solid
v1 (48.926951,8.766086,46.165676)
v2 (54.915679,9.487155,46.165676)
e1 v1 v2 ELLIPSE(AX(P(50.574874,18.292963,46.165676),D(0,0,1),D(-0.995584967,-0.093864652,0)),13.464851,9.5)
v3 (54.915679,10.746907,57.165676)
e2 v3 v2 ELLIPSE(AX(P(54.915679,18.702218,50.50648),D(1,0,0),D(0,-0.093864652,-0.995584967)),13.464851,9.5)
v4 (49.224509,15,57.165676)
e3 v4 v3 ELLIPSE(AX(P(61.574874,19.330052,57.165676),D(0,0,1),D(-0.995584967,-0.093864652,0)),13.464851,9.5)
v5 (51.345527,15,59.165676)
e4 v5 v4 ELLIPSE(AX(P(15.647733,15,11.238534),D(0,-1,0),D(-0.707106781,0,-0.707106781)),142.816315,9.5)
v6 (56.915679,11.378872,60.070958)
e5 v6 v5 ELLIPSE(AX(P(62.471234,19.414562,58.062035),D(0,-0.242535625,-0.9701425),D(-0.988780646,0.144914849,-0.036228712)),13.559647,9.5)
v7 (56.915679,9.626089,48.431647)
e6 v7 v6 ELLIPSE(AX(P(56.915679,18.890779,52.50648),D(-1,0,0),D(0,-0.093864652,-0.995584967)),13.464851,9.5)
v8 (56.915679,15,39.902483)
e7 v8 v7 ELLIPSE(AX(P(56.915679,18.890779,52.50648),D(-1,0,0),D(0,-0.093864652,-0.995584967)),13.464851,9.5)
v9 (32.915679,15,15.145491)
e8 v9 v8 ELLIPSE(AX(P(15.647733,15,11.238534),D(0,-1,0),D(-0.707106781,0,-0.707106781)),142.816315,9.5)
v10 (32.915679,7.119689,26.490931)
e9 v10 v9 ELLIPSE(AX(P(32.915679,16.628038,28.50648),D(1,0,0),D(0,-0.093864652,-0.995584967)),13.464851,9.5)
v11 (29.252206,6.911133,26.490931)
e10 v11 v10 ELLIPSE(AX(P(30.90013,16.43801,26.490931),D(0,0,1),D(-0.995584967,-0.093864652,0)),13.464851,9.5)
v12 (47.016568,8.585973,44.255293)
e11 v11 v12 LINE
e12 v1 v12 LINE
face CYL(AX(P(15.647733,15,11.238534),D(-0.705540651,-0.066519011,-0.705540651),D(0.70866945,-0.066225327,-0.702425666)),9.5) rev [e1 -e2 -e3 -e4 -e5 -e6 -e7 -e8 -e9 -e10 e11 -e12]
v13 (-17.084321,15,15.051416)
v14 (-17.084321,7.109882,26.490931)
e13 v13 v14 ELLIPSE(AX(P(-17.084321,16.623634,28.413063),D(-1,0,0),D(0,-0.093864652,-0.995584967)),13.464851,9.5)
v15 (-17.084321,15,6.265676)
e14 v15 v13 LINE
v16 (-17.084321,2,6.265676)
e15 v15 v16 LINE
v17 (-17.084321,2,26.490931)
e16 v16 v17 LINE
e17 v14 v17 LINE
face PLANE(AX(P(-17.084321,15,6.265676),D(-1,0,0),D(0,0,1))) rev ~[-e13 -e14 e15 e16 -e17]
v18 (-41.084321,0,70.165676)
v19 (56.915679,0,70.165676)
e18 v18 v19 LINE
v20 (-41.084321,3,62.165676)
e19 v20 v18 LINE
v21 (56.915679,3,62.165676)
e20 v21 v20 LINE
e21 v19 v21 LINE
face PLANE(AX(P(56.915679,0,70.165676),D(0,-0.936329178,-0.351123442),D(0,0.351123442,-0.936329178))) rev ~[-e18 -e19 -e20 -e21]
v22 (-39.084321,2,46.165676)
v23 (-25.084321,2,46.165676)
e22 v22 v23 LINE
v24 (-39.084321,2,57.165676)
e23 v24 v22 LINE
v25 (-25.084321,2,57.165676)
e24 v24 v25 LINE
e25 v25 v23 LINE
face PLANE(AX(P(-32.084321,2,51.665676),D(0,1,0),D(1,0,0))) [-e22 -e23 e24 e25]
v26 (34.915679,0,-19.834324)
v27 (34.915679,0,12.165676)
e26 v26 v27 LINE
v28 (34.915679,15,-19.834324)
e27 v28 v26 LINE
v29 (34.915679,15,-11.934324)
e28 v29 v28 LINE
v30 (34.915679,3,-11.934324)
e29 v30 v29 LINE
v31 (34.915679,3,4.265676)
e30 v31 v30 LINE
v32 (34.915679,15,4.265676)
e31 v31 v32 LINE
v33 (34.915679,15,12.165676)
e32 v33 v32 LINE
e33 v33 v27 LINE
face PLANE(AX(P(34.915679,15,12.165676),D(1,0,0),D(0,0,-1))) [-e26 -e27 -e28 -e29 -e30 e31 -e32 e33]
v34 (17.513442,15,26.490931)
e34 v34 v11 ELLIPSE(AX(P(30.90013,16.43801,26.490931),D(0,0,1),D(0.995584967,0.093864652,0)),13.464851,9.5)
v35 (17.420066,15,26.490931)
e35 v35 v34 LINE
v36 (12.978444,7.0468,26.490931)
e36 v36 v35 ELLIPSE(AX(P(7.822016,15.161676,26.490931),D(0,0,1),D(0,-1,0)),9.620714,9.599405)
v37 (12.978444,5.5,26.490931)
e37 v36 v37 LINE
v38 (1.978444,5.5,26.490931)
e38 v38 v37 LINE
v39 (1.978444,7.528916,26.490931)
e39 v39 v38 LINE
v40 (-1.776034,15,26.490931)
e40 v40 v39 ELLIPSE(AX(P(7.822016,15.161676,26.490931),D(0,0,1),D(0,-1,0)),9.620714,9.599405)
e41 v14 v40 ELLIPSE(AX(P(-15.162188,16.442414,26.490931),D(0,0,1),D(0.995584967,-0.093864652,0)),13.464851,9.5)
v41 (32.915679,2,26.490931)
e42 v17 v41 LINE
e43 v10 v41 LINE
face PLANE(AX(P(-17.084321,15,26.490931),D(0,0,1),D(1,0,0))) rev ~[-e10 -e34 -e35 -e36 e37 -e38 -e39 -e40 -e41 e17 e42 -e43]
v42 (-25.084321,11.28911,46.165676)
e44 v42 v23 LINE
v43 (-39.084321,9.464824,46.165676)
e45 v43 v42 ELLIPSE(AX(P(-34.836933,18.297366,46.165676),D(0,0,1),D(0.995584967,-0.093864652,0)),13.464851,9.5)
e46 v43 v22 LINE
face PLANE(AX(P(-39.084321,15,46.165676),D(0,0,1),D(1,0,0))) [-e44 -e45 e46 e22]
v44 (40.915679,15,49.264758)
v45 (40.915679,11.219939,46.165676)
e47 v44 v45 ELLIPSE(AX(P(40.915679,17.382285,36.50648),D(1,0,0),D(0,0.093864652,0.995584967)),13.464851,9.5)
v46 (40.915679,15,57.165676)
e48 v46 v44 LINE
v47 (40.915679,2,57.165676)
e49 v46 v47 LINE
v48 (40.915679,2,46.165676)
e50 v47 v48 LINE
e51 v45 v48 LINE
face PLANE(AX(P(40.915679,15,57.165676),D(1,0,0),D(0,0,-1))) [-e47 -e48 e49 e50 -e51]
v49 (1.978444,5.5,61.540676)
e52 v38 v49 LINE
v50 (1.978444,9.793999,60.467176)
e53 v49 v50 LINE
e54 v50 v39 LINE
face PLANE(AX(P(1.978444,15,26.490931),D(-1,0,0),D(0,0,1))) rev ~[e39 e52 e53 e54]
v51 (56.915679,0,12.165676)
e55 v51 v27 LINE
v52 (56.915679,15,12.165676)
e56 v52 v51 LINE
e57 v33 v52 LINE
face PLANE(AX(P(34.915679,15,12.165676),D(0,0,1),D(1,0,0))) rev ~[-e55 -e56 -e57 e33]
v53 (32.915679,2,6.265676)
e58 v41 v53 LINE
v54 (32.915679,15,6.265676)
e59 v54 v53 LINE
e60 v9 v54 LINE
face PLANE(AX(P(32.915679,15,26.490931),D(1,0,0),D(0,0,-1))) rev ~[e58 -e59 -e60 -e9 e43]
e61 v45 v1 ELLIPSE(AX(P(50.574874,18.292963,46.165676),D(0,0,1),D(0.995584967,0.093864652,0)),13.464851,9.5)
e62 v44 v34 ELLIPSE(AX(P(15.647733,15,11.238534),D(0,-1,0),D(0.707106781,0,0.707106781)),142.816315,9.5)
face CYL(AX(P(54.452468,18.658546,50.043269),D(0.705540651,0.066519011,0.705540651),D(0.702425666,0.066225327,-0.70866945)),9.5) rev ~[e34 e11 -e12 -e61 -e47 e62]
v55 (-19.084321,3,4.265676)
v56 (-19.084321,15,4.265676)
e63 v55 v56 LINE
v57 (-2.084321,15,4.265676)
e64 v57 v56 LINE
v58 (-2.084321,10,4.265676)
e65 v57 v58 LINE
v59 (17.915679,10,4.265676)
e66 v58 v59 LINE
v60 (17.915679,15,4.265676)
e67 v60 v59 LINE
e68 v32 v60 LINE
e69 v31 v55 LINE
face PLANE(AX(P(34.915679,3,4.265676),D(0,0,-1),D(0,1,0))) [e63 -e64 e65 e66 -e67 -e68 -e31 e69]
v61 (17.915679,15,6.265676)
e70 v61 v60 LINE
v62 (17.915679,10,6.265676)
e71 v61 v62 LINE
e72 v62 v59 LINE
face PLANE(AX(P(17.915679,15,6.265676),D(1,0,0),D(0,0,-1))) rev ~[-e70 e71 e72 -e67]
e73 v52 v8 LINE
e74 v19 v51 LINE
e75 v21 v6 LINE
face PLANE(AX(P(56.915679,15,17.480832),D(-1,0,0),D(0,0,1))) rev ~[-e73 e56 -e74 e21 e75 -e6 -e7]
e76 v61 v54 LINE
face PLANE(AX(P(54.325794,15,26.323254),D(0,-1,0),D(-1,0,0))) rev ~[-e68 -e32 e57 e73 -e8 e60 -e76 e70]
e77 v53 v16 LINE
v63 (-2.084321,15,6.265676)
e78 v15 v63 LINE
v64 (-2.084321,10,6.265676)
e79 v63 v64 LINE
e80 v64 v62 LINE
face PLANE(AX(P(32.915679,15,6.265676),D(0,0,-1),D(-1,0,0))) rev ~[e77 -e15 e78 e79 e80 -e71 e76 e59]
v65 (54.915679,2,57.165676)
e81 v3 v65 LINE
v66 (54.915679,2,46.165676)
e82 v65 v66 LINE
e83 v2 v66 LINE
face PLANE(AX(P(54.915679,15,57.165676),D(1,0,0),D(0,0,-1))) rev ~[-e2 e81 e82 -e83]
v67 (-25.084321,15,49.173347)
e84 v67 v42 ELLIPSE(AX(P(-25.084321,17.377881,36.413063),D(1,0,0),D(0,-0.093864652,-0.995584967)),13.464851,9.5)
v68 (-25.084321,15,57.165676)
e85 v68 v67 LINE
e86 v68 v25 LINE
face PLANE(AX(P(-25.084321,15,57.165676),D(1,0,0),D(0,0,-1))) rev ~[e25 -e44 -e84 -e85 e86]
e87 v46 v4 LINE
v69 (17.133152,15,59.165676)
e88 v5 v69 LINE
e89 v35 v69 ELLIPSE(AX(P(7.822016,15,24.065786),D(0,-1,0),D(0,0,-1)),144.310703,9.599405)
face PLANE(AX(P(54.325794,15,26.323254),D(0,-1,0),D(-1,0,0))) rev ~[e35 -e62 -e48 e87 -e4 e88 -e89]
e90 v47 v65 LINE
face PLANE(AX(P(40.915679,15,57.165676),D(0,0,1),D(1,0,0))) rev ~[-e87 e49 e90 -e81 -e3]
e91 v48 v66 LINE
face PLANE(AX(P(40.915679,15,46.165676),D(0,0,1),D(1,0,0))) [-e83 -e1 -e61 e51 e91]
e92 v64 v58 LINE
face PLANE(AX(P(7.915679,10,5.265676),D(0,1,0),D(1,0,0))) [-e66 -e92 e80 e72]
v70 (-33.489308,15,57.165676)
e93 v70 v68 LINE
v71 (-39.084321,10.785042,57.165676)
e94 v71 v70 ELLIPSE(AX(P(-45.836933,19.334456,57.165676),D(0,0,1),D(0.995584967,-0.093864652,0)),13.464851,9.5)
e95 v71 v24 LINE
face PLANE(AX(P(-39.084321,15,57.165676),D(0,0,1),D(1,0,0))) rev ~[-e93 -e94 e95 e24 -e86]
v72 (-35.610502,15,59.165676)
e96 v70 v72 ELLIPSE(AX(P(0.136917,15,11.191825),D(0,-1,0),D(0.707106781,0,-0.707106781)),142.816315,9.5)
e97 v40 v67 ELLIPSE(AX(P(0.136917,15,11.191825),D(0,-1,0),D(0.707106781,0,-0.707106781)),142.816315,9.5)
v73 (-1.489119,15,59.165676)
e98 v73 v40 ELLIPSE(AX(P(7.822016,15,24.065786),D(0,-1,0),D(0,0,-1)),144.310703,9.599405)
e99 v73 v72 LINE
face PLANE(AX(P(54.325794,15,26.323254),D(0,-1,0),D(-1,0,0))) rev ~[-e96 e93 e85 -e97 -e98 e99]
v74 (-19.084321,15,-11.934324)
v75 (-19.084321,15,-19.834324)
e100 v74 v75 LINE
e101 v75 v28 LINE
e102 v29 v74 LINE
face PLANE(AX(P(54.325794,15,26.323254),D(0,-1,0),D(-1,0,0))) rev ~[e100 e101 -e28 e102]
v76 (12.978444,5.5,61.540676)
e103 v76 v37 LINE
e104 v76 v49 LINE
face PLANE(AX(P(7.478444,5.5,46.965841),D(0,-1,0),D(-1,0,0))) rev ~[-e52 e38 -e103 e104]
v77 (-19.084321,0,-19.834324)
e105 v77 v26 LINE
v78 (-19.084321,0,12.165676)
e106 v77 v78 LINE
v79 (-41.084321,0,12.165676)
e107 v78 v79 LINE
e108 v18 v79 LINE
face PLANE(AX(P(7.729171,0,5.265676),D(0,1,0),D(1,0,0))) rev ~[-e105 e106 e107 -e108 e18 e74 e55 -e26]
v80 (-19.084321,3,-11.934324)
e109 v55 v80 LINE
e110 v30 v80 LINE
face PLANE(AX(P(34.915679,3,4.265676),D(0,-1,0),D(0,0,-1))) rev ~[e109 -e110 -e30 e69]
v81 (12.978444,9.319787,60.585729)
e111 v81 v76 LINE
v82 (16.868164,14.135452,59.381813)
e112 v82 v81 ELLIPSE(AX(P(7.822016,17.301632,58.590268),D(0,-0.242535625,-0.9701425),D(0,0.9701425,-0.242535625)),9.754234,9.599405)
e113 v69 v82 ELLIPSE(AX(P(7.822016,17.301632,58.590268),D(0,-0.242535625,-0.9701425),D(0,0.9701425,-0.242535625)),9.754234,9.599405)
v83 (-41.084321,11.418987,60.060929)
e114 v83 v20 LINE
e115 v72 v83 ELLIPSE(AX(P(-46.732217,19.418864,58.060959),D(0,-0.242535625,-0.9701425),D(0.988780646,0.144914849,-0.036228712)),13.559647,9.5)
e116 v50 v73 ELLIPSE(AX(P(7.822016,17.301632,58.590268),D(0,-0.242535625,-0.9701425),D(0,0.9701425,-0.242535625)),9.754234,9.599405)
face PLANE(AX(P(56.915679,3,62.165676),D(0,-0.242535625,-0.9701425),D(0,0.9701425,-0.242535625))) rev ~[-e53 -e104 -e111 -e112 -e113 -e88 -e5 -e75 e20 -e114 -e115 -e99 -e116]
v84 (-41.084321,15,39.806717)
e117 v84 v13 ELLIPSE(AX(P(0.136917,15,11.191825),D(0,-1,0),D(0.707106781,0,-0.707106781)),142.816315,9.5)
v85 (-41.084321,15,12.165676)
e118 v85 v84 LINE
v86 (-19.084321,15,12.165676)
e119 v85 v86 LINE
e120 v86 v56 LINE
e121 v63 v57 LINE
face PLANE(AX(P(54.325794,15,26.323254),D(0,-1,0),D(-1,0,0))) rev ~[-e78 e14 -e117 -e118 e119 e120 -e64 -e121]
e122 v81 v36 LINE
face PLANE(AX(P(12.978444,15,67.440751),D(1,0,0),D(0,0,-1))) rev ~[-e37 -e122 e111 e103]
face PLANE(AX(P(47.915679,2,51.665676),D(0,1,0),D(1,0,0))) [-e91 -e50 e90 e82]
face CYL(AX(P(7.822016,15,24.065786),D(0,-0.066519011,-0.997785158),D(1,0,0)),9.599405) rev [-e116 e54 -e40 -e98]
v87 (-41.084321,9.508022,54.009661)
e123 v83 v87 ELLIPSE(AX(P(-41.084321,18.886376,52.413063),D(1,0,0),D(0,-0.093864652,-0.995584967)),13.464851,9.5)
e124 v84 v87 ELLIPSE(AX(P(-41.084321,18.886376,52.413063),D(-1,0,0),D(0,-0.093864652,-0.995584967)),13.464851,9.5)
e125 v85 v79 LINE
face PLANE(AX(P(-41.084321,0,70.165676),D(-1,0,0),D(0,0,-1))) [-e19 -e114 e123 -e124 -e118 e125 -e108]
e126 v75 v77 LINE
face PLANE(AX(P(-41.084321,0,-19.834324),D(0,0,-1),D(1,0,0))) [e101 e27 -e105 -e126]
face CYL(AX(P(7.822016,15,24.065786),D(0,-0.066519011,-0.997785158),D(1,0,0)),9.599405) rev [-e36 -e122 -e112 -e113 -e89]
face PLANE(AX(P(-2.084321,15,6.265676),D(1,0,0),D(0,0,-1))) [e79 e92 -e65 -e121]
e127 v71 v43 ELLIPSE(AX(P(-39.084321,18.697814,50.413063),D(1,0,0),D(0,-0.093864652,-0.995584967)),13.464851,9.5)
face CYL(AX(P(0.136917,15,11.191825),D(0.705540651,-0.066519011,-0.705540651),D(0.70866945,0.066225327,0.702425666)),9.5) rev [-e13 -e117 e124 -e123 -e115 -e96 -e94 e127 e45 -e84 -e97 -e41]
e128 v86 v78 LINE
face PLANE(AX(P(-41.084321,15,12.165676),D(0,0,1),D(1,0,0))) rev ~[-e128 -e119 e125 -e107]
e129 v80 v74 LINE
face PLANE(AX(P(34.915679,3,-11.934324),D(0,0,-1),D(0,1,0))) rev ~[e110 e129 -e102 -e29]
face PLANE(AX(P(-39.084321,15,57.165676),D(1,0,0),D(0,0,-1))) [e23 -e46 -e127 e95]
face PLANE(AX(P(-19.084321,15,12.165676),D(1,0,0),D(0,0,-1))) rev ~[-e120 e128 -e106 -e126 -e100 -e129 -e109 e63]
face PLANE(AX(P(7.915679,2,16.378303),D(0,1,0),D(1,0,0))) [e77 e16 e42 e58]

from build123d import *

# Parameters (mm, degrees)
SKETCH1_W                = 98
SKETCH1_H                = 90
BOSS_EXTRUDE1_DEPTH      = 15
CUT_EXTRUDE1_DEPTH       = 15
CUT_EXTRUDE2_DEPTH       = 15
CUT_EXTRUDE5_DEPTH       = 100
CUT_EXTRUDE6_DEPTH       = 100
SKETCH9_R                = 9.5
CUT_EXTRUDE7_DEPTH       = 45
SKETCH10_R               = 9.5
CUT_EXTRUDE8_DEPTH       = 45
BOSS_EXTRUDE3_DEPTH      = 100
BOSS_EXTRUDE4_DEPTH      = 100
SKETCH14_W               = 54.537944566
SKETCH14_H               = 37.433727788
CUT_EXTRUDE9_DEPTH       = 100
SKETCH15_W               = 37.221464136
SKETCH15_H               = 31.979004399
CUT_EXTRUDE10_DEPTH      = 100
BOSS_EXTRUDE5_DEPTH      = 15
BOSS_EXTRUDE6_DEPTH      = 15
BOSS_EXTRUDE7_DEPTH      = 15
CUT_EXTRUDE11_DEPTH      = 100
SKETCH20_R               = 9.5
CUT_EXTRUDE12_DEPTH      = 45
SKETCH21_R               = 9.5
CUT_EXTRUDE13_DEPTH      = 100
SKETCH22_R               = 9.5
BOSS_EXTRUDE8_DEPTH      = 55
SKETCH23_R               = 9.5
CUT_EXTRUDE14_DEPTH      = 55
SKETCH24_R               = 9.5
CUT_EXTRUDE15_DEPTH      = 100
SKETCH25_R               = 9.5
BOSS_EXTRUDE10_DEPTH     = 100
SKETCH26_R               = 9.5
CUT_EXTRUDE16_DEPTH      = 100
CUT_EXTRUDE19_DEPTH      = 100
CUT_EXTRUDE19_DEPTH_BACK = 100
SKETCH27_W               = 176.377882562
SKETCH27_H               = 122.842530298
SKETCH27_W_2             = 98
SKETCH27_H_2             = 90
SKETCH28_W               = 109.510814303
SKETCH28_H               = 24.111992001
CUT_EXTRUDE20_DEPTH      = 100
SKETCH29_R               = 9.59940523
CUT_EXTRUDE21_DEPTH      = 100
SKETCH30_W               = 22
SKETCH30_H               = 32
CUT_EXTRUDE22_DEPTH      = 100
SKETCH31_W               = 16.2
SKETCH31_H               = 12
CUT_EXTRUDE23_DEPTH      = 100
CUT_EXTRUDE24_DEPTH      = 13
SKETCH33_W               = 50.373016546
SKETCH33_H               = 2
BOSS_EXTRUDE12_DEPTH     = 15
SKETCH34_W               = 20
SKETCH34_H               = 2
CUT_EXTRUDE25_DEPTH      = 5
CUT_EXTRUDE27_DEPTH      = 100
SKETCH37_W               = 14
SKETCH37_H               = 11
CUT_EXTRUDE28_DEPTH      = 13
CUT_EXTRUDE32_DEPTH      = 9.5


with BuildPart() as part:
    # Sketch1 → Boss-Extrude1 (new body)
    with BuildSketch(Plane(origin=(0, 0, 0), x_dir=(1, 0, 0), z_dir=(0, 1, 0))):
        with Locations((7.915679061, -25.165675541)):
            Rectangle(SKETCH1_W, SKETCH1_H)
    extrude(amount=BOSS_EXTRUDE1_DEPTH)

    # Sketch3 → Cut-Extrude1 (cut)
    with BuildSketch(Plane(origin=(0, 15, 0), x_dir=(1, 0, 0), z_dir=(0, 1, 0))):
        Polygon((-41.084320939, -35.165675541), (-6.084320939, -70.165675541), (-41.084320939, -70.165675541), align=None)
        Polygon((21.915679061, -70.165675541), (56.915679061, -35.165675541), (56.915679061, -70.165675541), align=None)
    extrude(amount=-CUT_EXTRUDE1_DEPTH, mode=Mode.SUBTRACT)

    # Sketch4 → Cut-Extrude2 (cut)
    with BuildSketch(Plane(origin=(0, 15, 0), x_dir=(1, 0, 0), z_dir=(0, 1, 0))):
        Polygon((-41.084320939, -35.165675541), (-32.241899351, -26.323253953), (-41.084320939, -17.480832365), align=None)
        Polygon((56.915679061, -17.480832365), (48.073257473, -26.323253953), (56.915679061, -35.165675541), align=None)
    extrude(amount=-CUT_EXTRUDE2_DEPTH, mode=Mode.SUBTRACT)

    # Sketch5 → Cut-Extrude5 (cut)
    with BuildSketch(Plane(origin=(-2.959322699, 0, -2.959322699), x_dir=(-0.7071067811865461, 0, 0.7071067811865489), z_dir=(-0.7071067811865489, 0, -0.7071067811865461))):
        Polygon((53.916889577, 0), (52.916889577, 15), (53.916889577, 15), align=None)
    extrude(amount=-CUT_EXTRUDE5_DEPTH, mode=Mode.SUBTRACT)

    # Sketch8 → Cut-Extrude6 (cut)
    with BuildSketch(Plane(origin=(10.87500176, 0, -10.87500176), x_dir=(-0.7071067811865438, 0, -0.7071067811865513), z_dir=(0.7071067811865513, 0, -0.7071067811865438))):
        Polygon((-65.11135026, 0), (-64.11135026, 15), (-65.11135026, 15), align=None)
    extrude(amount=-CUT_EXTRUDE6_DEPTH, mode=Mode.SUBTRACT)

    # Sketch9 → Cut-Extrude7 (cut)
    with BuildSketch(Plane(origin=(45.83695749, 4.321549796, 45.83695749), x_dir=(0.7086694500121591, -0.06622532692378834, -0.7024256663116043), z_dir=(0.7055406512876944, 0.06651901052377404, 0.7055406512877016))):
        with Locations((-0.364665022, 13.674807707)):
            Circle(SKETCH9_R)
    extrude(amount=-CUT_EXTRUDE7_DEPTH, mode=Mode.SUBTRACT)

    # Sketch10 → Cut-Extrude8 (cut)
    with BuildSketch(Plane(origin=(-37.956303558, 3.578554618, 37.956303558), x_dir=(0.708669450012157, 0.06622532692378813, 0.7024256663116066), z_dir=(-0.7055406512876966, 0.06651901052377338, 0.7055406512876994))):
        with Locations((11.452044949, 13.683576238)):
            Circle(SKETCH10_R)
    extrude(amount=-CUT_EXTRUDE8_DEPTH, mode=Mode.SUBTRACT)

    # Sketch12 → Boss-Extrude3 (add)
    with BuildSketch(Plane(origin=(10.87500176, 0, -10.87500176), x_dir=(-0.7071067811865438, 0, -0.7071067811865513), z_dir=(0.7071067811865513, 0, -0.7071067811865438))):
        Polygon((-65.11135026, 0), (-64.11135026, 15), (-65.11135026, 15), align=None)
    extrude(amount=-BOSS_EXTRUDE3_DEPTH)

    # Sketch13 → Boss-Extrude4 (add)
    with BuildSketch(Plane(origin=(-2.959322699, 0, -2.959322699), x_dir=(-0.7071067811865461, 0, 0.7071067811865489), z_dir=(-0.7071067811865489, 0, -0.7071067811865461))):
        Polygon((53.916889577, 0), (52.916889577, 15), (53.916889577, 15), align=None)
    extrude(amount=-BOSS_EXTRUDE4_DEPTH)

    # Sketch14 → Cut-Extrude9 (cut)
    with BuildSketch(Plane(origin=(0, 15, 0), x_dir=(1, 0, 0), z_dir=(0, 1, 0))):
        with Locations((21.184651344, -88.882539435)):
            Rectangle(SKETCH14_W, SKETCH14_H)
    extrude(amount=-CUT_EXTRUDE9_DEPTH, mode=Mode.SUBTRACT)


with BuildPart() as cut_extrude9_piece_1:
    # of the separate pieces the step leaves, piece 1, a body of its own (cut_extrude9_pieces)
    add(part.part.solids().sort_by_distance((-41.084320939, 0, -19.834324459))[0])

    # Sketch16 → Boss-Extrude5 (add)
    with BuildSketch(Plane(origin=(0, 15, 0), x_dir=(1, 0, 0), z_dir=(0, 1, 0))):
        Polygon((-6.084320939, -70.165675541), (-35.8985557, -70.165675541), (-41.084320939, -70.165675541), (-41.084320939, -35.165675541), align=None)
    extrude(amount=-BOSS_EXTRUDE5_DEPTH)

    # Sketch17 → Boss-Extrude6 (add)
    with BuildSketch(Plane(origin=(0, 15, 0), x_dir=(1, 0, 0), z_dir=(0, 1, 0))):
        Polygon((21.915679061, -70.165675541), (49.886241171, -70.165675541), (56.915679061, -70.165675541), (56.915679061, -35.165675541), align=None)
    extrude(amount=-BOSS_EXTRUDE6_DEPTH)

    # Sketch18 → Boss-Extrude7 (add)
    with BuildSketch(Plane(origin=(0, 15, 0), x_dir=(1, 0, 0), z_dir=(0, 1, 0))):
        Polygon((48.073257473, -26.323253953), (56.915679061, -17.480832365), (56.915679061, -35.165675541), align=None)
        Polygon((-41.084320939, -35.165675541), (-41.084320939, -17.480832365), (-32.241899351, -26.323253953), align=None)
    extrude(amount=-BOSS_EXTRUDE7_DEPTH)

    # Sketch19 → Cut-Extrude11 (cut)
    with BuildSketch(Plane(origin=(56.915679061, 0, 0), x_dir=(0, 0, -1), z_dir=(1, 0, 0))):
        Polygon((-70.165675541, 0), (-69.165675541, 15), (-70.165675541, 15), align=None)
    extrude(amount=-CUT_EXTRUDE11_DEPTH, mode=Mode.SUBTRACT)

    # Sketch20 → Cut-Extrude12 (cut)
    with BuildSketch(Plane(origin=(0, 4.657013863, 69.85520795), x_dir=(1, 0, 0), z_dir=(0, 0.06651901052377399, 0.997785157856609))):
        with Locations((7.915679061, 13.33264869)):
            Circle(SKETCH20_R)
    extrude(amount=-CUT_EXTRUDE12_DEPTH, mode=Mode.SUBTRACT)

    # Sketch21 → Cut-Extrude13 (cut)
    with BuildSketch(Plane(origin=(14.087628182, 1.328194322, 14.087628182), x_dir=(0.708669450012159, -0.06622532692378837, -0.7024256663116044), z_dir=(0.7055406512876945, 0.06651901052377404, 0.7055406512877015))):
        with Locations((2.201455665, 13.878873478)):
            Circle(SKETCH21_R)
    extrude(amount=CUT_EXTRUDE13_DEPTH, mode=Mode.SUBTRACT)

    # Sketch22 → Boss-Extrude8 (add)
    with BuildSketch(Plane(origin=(14.087628182, 1.328194322, 14.087628182), x_dir=(0.708669450012159, -0.06622532692378837, -0.7024256663116044), z_dir=(0.7055406512876945, 0.06651901052377404, 0.7055406512877015))):
        with Locations((-0.364665022, 13.674807707)):
            Circle(SKETCH22_R)
    extrude(amount=BOSS_EXTRUDE8_DEPTH)

    # Sketch23 → Cut-Extrude14 (cut)
    with BuildSketch(Plane(origin=(52.892364003, 4.986739901, 52.892364003), x_dir=(0.7024256663116113, 0.0662253269237897, -0.7086694500121521), z_dir=(0.7055406512876945, 0.06651901052377404, 0.7055406512877014))):
        with Locations((4.020343442, 13.465005557)):
            Circle(SKETCH23_R)
    extrude(amount=-CUT_EXTRUDE14_DEPTH, mode=Mode.SUBTRACT)

    # Sketch24 → Cut-Extrude15 (cut)
    with BuildSketch(Plane(origin=(-6.20697425, 0.585199144, 6.20697425), x_dir=(0.708669450012157, 0.06622532692378813, 0.7024256663116066), z_dir=(-0.7055406512876966, 0.06651901052377338, 0.7055406512876995))):
        with Locations((8.951834225, 13.883257743)):
            Circle(SKETCH24_R)
    extrude(amount=CUT_EXTRUDE15_DEPTH, mode=Mode.SUBTRACT)

    # Sketch25 → Boss-Extrude10 (add)
    with BuildSketch(Plane(origin=(-6.20697425, 0.585199144, 6.20697425), x_dir=(0.708669450012157, 0.06622532692378813, 0.7024256663116066), z_dir=(-0.7055406512876966, 0.06651901052377338, 0.7055406512876994))):
        with Locations((11.452044949, 13.683576238)):
            Circle(SKETCH25_R)
    extrude(amount=BOSS_EXTRUDE10_DEPTH)

    # Sketch26 → Cut-Extrude16 (cut)
    with BuildSketch(Plane(origin=(-6.20697425, 0.585199144, 6.20697425), x_dir=(0.708669450012157, 0.06622532692378813, 0.7024256663116066), z_dir=(-0.7055406512876966, 0.06651901052377338, 0.7055406512876994))):
        with Locations((8.951834225, 13.883257743)):
            Circle(SKETCH26_R)
    extrude(amount=CUT_EXTRUDE16_DEPTH, mode=Mode.SUBTRACT)

    # Sketch27 → Cut-Extrude19 (cut, two sides: drawn at the far end of the back side and taken through both)
    with BuildSketch(Plane(origin=(0, 15, 0), x_dir=(1, 0, 0), z_dir=(0, 1, 0)).offset(-CUT_EXTRUDE19_DEPTH_BACK)):
        with Locations((3.867081439, -38.319377922)):
            Rectangle(SKETCH27_W, SKETCH27_H)
        with Locations((7.915679061, -25.165675541)):
            Rectangle(SKETCH27_W_2, SKETCH27_H_2, mode=Mode.SUBTRACT)
    extrude(amount=CUT_EXTRUDE19_DEPTH + CUT_EXTRUDE19_DEPTH_BACK, mode=Mode.SUBTRACT)

    # Sketch28 → Cut-Extrude20 (cut)
    with BuildSketch(Plane(origin=(0, 0, -19.834324459), x_dir=(-1, 0, 0), z_dir=(0, 0, -1))):
        with Locations((-2.16027191, 27.055996001)):
            Rectangle(SKETCH28_W, SKETCH28_H)
    extrude(amount=-CUT_EXTRUDE20_DEPTH, mode=Mode.SUBTRACT)

    # Sketch29 → Cut-Extrude21 (cut)
    with BuildSketch(Plane(origin=(0, 1.66365839, 24.954875847), x_dir=(1, 0, 0), z_dir=(0, 0.066519010523774, 0.997785157856609))):
        with Locations((7.822016096, 13.365945069)):
            Circle(SKETCH29_R)
    extrude(amount=CUT_EXTRUDE21_DEPTH, mode=Mode.SUBTRACT)

    # Sketch30 → Cut-Extrude22 (cut)
    with BuildSketch(Plane(origin=(0, 15, 0), x_dir=(1, 0, 0), z_dir=(0, 1, 0))):
        with Locations((-30.084320939, 3.834324459)):
            Rectangle(SKETCH30_W, SKETCH30_H)
        with Locations((45.915679061, 3.834324459)):
            Rectangle(SKETCH30_W, SKETCH30_H)
    extrude(amount=-CUT_EXTRUDE22_DEPTH, mode=Mode.SUBTRACT)

    # Sketch31 → Cut-Extrude23 (cut)
    with BuildSketch(Plane(origin=(34.915679061, 0, 0), x_dir=(0, 0, -1), z_dir=(1, 0, 0))):
        with Locations((3.834324459, 9)):
            Rectangle(SKETCH31_W, SKETCH31_H)
    extrude(amount=-CUT_EXTRUDE23_DEPTH, mode=Mode.SUBTRACT)

    # Sketch32 → Cut-Extrude24 (cut)
    with BuildSketch(Plane(origin=(0, 15, 0), x_dir=(1, 0, 0), z_dir=(0, 1, 0))):
        Polygon((-1.776033561, -26.490930679), (32.915679061, -26.490930679), (32.915679061, -6.265675541), (-1.776033561, -6.265675541), (-17.084320939, -6.265675541), (-17.084320939, -26.490930679), align=None)
    extrude(amount=-CUT_EXTRUDE24_DEPTH, mode=Mode.SUBTRACT)

    # Sketch33 → Boss-Extrude12 (add)
    with BuildSketch(Plane(origin=(0, 15, 0), x_dir=(1, 0, 0), z_dir=(0, 1, 0))):
        with Locations((7.729170788, -5.265675541)):
            Rectangle(SKETCH33_W, SKETCH33_H)
    extrude(amount=-BOSS_EXTRUDE12_DEPTH)

    # Sketch34 → Cut-Extrude25 (cut)
    with BuildSketch(Plane(origin=(0, 15, 0), x_dir=(1, 0, 0), z_dir=(0, 1, 0))):
        with Locations((7.915679061, -5.265675541)):
            Rectangle(SKETCH34_W, SKETCH34_H)
    extrude(amount=-CUT_EXTRUDE25_DEPTH, mode=Mode.SUBTRACT)

    # Sketch35 → Cut-Extrude27 (cut)
    with BuildSketch(Plane(origin=(56.915679061, 0, 0), x_dir=(0, 0, -1), z_dir=(1, 0, 0))):
        Polygon((-70.165675541, 0), (-62.165675541, 3), (-59.165675541, 15), (-69.165675541, 15), align=None)
    extrude(amount=-CUT_EXTRUDE27_DEPTH, mode=Mode.SUBTRACT)

    # Sketch37 → Cut-Extrude28 (cut)
    with BuildSketch(Plane(origin=(0, 15, 0), x_dir=(1, 0, 0), z_dir=(0, 1, 0))):
        with Locations((-32.084320939, -51.665675541)):
            Rectangle(SKETCH37_W, SKETCH37_H)
        with Locations((47.915679061, -51.665675541)):
            Rectangle(SKETCH37_W, SKETCH37_H)
    extrude(amount=-CUT_EXTRUDE28_DEPTH, mode=Mode.SUBTRACT)

    # Sketch38 → Cut-Extrude32 (cut)
    with BuildSketch(Plane(origin=(0, 15, 0), x_dir=(1, 0, 0), z_dir=(0, 1, 0))):
        Polygon((1.978443982, -26.490930679), (12.978443982, -26.490930679), (12.978443982, -60.585728785), (12.978443982, -67.440751443), (1.978443982, -67.440751443), (1.978443982, -60.585728785), align=None)
    extrude(amount=-CUT_EXTRUDE32_DEPTH, mode=Mode.SUBTRACT)


with BuildPart() as cut_extrude9_piece_2:
    # of the separate pieces the step leaves, piece 2, a body of its own (cut_extrude9_pieces)
    add(part.part.solids().sort_by_distance((-6.084320939, 15, 96.751461979))[0])

    # Sketch15 → Cut-Extrude10 (cut)
    with BuildSketch(Plane(origin=(0, 15, 0), x_dir=(1, 0, 0), z_dir=(0, 1, 0))):
        with Locations((-15.067513526, -92.658393077)):
            Rectangle(SKETCH15_W, SKETCH15_H)
    extrude(amount=-CUT_EXTRUDE10_DEPTH, mode=Mode.SUBTRACT)


solid = cut_extrude9_piece_1.part
